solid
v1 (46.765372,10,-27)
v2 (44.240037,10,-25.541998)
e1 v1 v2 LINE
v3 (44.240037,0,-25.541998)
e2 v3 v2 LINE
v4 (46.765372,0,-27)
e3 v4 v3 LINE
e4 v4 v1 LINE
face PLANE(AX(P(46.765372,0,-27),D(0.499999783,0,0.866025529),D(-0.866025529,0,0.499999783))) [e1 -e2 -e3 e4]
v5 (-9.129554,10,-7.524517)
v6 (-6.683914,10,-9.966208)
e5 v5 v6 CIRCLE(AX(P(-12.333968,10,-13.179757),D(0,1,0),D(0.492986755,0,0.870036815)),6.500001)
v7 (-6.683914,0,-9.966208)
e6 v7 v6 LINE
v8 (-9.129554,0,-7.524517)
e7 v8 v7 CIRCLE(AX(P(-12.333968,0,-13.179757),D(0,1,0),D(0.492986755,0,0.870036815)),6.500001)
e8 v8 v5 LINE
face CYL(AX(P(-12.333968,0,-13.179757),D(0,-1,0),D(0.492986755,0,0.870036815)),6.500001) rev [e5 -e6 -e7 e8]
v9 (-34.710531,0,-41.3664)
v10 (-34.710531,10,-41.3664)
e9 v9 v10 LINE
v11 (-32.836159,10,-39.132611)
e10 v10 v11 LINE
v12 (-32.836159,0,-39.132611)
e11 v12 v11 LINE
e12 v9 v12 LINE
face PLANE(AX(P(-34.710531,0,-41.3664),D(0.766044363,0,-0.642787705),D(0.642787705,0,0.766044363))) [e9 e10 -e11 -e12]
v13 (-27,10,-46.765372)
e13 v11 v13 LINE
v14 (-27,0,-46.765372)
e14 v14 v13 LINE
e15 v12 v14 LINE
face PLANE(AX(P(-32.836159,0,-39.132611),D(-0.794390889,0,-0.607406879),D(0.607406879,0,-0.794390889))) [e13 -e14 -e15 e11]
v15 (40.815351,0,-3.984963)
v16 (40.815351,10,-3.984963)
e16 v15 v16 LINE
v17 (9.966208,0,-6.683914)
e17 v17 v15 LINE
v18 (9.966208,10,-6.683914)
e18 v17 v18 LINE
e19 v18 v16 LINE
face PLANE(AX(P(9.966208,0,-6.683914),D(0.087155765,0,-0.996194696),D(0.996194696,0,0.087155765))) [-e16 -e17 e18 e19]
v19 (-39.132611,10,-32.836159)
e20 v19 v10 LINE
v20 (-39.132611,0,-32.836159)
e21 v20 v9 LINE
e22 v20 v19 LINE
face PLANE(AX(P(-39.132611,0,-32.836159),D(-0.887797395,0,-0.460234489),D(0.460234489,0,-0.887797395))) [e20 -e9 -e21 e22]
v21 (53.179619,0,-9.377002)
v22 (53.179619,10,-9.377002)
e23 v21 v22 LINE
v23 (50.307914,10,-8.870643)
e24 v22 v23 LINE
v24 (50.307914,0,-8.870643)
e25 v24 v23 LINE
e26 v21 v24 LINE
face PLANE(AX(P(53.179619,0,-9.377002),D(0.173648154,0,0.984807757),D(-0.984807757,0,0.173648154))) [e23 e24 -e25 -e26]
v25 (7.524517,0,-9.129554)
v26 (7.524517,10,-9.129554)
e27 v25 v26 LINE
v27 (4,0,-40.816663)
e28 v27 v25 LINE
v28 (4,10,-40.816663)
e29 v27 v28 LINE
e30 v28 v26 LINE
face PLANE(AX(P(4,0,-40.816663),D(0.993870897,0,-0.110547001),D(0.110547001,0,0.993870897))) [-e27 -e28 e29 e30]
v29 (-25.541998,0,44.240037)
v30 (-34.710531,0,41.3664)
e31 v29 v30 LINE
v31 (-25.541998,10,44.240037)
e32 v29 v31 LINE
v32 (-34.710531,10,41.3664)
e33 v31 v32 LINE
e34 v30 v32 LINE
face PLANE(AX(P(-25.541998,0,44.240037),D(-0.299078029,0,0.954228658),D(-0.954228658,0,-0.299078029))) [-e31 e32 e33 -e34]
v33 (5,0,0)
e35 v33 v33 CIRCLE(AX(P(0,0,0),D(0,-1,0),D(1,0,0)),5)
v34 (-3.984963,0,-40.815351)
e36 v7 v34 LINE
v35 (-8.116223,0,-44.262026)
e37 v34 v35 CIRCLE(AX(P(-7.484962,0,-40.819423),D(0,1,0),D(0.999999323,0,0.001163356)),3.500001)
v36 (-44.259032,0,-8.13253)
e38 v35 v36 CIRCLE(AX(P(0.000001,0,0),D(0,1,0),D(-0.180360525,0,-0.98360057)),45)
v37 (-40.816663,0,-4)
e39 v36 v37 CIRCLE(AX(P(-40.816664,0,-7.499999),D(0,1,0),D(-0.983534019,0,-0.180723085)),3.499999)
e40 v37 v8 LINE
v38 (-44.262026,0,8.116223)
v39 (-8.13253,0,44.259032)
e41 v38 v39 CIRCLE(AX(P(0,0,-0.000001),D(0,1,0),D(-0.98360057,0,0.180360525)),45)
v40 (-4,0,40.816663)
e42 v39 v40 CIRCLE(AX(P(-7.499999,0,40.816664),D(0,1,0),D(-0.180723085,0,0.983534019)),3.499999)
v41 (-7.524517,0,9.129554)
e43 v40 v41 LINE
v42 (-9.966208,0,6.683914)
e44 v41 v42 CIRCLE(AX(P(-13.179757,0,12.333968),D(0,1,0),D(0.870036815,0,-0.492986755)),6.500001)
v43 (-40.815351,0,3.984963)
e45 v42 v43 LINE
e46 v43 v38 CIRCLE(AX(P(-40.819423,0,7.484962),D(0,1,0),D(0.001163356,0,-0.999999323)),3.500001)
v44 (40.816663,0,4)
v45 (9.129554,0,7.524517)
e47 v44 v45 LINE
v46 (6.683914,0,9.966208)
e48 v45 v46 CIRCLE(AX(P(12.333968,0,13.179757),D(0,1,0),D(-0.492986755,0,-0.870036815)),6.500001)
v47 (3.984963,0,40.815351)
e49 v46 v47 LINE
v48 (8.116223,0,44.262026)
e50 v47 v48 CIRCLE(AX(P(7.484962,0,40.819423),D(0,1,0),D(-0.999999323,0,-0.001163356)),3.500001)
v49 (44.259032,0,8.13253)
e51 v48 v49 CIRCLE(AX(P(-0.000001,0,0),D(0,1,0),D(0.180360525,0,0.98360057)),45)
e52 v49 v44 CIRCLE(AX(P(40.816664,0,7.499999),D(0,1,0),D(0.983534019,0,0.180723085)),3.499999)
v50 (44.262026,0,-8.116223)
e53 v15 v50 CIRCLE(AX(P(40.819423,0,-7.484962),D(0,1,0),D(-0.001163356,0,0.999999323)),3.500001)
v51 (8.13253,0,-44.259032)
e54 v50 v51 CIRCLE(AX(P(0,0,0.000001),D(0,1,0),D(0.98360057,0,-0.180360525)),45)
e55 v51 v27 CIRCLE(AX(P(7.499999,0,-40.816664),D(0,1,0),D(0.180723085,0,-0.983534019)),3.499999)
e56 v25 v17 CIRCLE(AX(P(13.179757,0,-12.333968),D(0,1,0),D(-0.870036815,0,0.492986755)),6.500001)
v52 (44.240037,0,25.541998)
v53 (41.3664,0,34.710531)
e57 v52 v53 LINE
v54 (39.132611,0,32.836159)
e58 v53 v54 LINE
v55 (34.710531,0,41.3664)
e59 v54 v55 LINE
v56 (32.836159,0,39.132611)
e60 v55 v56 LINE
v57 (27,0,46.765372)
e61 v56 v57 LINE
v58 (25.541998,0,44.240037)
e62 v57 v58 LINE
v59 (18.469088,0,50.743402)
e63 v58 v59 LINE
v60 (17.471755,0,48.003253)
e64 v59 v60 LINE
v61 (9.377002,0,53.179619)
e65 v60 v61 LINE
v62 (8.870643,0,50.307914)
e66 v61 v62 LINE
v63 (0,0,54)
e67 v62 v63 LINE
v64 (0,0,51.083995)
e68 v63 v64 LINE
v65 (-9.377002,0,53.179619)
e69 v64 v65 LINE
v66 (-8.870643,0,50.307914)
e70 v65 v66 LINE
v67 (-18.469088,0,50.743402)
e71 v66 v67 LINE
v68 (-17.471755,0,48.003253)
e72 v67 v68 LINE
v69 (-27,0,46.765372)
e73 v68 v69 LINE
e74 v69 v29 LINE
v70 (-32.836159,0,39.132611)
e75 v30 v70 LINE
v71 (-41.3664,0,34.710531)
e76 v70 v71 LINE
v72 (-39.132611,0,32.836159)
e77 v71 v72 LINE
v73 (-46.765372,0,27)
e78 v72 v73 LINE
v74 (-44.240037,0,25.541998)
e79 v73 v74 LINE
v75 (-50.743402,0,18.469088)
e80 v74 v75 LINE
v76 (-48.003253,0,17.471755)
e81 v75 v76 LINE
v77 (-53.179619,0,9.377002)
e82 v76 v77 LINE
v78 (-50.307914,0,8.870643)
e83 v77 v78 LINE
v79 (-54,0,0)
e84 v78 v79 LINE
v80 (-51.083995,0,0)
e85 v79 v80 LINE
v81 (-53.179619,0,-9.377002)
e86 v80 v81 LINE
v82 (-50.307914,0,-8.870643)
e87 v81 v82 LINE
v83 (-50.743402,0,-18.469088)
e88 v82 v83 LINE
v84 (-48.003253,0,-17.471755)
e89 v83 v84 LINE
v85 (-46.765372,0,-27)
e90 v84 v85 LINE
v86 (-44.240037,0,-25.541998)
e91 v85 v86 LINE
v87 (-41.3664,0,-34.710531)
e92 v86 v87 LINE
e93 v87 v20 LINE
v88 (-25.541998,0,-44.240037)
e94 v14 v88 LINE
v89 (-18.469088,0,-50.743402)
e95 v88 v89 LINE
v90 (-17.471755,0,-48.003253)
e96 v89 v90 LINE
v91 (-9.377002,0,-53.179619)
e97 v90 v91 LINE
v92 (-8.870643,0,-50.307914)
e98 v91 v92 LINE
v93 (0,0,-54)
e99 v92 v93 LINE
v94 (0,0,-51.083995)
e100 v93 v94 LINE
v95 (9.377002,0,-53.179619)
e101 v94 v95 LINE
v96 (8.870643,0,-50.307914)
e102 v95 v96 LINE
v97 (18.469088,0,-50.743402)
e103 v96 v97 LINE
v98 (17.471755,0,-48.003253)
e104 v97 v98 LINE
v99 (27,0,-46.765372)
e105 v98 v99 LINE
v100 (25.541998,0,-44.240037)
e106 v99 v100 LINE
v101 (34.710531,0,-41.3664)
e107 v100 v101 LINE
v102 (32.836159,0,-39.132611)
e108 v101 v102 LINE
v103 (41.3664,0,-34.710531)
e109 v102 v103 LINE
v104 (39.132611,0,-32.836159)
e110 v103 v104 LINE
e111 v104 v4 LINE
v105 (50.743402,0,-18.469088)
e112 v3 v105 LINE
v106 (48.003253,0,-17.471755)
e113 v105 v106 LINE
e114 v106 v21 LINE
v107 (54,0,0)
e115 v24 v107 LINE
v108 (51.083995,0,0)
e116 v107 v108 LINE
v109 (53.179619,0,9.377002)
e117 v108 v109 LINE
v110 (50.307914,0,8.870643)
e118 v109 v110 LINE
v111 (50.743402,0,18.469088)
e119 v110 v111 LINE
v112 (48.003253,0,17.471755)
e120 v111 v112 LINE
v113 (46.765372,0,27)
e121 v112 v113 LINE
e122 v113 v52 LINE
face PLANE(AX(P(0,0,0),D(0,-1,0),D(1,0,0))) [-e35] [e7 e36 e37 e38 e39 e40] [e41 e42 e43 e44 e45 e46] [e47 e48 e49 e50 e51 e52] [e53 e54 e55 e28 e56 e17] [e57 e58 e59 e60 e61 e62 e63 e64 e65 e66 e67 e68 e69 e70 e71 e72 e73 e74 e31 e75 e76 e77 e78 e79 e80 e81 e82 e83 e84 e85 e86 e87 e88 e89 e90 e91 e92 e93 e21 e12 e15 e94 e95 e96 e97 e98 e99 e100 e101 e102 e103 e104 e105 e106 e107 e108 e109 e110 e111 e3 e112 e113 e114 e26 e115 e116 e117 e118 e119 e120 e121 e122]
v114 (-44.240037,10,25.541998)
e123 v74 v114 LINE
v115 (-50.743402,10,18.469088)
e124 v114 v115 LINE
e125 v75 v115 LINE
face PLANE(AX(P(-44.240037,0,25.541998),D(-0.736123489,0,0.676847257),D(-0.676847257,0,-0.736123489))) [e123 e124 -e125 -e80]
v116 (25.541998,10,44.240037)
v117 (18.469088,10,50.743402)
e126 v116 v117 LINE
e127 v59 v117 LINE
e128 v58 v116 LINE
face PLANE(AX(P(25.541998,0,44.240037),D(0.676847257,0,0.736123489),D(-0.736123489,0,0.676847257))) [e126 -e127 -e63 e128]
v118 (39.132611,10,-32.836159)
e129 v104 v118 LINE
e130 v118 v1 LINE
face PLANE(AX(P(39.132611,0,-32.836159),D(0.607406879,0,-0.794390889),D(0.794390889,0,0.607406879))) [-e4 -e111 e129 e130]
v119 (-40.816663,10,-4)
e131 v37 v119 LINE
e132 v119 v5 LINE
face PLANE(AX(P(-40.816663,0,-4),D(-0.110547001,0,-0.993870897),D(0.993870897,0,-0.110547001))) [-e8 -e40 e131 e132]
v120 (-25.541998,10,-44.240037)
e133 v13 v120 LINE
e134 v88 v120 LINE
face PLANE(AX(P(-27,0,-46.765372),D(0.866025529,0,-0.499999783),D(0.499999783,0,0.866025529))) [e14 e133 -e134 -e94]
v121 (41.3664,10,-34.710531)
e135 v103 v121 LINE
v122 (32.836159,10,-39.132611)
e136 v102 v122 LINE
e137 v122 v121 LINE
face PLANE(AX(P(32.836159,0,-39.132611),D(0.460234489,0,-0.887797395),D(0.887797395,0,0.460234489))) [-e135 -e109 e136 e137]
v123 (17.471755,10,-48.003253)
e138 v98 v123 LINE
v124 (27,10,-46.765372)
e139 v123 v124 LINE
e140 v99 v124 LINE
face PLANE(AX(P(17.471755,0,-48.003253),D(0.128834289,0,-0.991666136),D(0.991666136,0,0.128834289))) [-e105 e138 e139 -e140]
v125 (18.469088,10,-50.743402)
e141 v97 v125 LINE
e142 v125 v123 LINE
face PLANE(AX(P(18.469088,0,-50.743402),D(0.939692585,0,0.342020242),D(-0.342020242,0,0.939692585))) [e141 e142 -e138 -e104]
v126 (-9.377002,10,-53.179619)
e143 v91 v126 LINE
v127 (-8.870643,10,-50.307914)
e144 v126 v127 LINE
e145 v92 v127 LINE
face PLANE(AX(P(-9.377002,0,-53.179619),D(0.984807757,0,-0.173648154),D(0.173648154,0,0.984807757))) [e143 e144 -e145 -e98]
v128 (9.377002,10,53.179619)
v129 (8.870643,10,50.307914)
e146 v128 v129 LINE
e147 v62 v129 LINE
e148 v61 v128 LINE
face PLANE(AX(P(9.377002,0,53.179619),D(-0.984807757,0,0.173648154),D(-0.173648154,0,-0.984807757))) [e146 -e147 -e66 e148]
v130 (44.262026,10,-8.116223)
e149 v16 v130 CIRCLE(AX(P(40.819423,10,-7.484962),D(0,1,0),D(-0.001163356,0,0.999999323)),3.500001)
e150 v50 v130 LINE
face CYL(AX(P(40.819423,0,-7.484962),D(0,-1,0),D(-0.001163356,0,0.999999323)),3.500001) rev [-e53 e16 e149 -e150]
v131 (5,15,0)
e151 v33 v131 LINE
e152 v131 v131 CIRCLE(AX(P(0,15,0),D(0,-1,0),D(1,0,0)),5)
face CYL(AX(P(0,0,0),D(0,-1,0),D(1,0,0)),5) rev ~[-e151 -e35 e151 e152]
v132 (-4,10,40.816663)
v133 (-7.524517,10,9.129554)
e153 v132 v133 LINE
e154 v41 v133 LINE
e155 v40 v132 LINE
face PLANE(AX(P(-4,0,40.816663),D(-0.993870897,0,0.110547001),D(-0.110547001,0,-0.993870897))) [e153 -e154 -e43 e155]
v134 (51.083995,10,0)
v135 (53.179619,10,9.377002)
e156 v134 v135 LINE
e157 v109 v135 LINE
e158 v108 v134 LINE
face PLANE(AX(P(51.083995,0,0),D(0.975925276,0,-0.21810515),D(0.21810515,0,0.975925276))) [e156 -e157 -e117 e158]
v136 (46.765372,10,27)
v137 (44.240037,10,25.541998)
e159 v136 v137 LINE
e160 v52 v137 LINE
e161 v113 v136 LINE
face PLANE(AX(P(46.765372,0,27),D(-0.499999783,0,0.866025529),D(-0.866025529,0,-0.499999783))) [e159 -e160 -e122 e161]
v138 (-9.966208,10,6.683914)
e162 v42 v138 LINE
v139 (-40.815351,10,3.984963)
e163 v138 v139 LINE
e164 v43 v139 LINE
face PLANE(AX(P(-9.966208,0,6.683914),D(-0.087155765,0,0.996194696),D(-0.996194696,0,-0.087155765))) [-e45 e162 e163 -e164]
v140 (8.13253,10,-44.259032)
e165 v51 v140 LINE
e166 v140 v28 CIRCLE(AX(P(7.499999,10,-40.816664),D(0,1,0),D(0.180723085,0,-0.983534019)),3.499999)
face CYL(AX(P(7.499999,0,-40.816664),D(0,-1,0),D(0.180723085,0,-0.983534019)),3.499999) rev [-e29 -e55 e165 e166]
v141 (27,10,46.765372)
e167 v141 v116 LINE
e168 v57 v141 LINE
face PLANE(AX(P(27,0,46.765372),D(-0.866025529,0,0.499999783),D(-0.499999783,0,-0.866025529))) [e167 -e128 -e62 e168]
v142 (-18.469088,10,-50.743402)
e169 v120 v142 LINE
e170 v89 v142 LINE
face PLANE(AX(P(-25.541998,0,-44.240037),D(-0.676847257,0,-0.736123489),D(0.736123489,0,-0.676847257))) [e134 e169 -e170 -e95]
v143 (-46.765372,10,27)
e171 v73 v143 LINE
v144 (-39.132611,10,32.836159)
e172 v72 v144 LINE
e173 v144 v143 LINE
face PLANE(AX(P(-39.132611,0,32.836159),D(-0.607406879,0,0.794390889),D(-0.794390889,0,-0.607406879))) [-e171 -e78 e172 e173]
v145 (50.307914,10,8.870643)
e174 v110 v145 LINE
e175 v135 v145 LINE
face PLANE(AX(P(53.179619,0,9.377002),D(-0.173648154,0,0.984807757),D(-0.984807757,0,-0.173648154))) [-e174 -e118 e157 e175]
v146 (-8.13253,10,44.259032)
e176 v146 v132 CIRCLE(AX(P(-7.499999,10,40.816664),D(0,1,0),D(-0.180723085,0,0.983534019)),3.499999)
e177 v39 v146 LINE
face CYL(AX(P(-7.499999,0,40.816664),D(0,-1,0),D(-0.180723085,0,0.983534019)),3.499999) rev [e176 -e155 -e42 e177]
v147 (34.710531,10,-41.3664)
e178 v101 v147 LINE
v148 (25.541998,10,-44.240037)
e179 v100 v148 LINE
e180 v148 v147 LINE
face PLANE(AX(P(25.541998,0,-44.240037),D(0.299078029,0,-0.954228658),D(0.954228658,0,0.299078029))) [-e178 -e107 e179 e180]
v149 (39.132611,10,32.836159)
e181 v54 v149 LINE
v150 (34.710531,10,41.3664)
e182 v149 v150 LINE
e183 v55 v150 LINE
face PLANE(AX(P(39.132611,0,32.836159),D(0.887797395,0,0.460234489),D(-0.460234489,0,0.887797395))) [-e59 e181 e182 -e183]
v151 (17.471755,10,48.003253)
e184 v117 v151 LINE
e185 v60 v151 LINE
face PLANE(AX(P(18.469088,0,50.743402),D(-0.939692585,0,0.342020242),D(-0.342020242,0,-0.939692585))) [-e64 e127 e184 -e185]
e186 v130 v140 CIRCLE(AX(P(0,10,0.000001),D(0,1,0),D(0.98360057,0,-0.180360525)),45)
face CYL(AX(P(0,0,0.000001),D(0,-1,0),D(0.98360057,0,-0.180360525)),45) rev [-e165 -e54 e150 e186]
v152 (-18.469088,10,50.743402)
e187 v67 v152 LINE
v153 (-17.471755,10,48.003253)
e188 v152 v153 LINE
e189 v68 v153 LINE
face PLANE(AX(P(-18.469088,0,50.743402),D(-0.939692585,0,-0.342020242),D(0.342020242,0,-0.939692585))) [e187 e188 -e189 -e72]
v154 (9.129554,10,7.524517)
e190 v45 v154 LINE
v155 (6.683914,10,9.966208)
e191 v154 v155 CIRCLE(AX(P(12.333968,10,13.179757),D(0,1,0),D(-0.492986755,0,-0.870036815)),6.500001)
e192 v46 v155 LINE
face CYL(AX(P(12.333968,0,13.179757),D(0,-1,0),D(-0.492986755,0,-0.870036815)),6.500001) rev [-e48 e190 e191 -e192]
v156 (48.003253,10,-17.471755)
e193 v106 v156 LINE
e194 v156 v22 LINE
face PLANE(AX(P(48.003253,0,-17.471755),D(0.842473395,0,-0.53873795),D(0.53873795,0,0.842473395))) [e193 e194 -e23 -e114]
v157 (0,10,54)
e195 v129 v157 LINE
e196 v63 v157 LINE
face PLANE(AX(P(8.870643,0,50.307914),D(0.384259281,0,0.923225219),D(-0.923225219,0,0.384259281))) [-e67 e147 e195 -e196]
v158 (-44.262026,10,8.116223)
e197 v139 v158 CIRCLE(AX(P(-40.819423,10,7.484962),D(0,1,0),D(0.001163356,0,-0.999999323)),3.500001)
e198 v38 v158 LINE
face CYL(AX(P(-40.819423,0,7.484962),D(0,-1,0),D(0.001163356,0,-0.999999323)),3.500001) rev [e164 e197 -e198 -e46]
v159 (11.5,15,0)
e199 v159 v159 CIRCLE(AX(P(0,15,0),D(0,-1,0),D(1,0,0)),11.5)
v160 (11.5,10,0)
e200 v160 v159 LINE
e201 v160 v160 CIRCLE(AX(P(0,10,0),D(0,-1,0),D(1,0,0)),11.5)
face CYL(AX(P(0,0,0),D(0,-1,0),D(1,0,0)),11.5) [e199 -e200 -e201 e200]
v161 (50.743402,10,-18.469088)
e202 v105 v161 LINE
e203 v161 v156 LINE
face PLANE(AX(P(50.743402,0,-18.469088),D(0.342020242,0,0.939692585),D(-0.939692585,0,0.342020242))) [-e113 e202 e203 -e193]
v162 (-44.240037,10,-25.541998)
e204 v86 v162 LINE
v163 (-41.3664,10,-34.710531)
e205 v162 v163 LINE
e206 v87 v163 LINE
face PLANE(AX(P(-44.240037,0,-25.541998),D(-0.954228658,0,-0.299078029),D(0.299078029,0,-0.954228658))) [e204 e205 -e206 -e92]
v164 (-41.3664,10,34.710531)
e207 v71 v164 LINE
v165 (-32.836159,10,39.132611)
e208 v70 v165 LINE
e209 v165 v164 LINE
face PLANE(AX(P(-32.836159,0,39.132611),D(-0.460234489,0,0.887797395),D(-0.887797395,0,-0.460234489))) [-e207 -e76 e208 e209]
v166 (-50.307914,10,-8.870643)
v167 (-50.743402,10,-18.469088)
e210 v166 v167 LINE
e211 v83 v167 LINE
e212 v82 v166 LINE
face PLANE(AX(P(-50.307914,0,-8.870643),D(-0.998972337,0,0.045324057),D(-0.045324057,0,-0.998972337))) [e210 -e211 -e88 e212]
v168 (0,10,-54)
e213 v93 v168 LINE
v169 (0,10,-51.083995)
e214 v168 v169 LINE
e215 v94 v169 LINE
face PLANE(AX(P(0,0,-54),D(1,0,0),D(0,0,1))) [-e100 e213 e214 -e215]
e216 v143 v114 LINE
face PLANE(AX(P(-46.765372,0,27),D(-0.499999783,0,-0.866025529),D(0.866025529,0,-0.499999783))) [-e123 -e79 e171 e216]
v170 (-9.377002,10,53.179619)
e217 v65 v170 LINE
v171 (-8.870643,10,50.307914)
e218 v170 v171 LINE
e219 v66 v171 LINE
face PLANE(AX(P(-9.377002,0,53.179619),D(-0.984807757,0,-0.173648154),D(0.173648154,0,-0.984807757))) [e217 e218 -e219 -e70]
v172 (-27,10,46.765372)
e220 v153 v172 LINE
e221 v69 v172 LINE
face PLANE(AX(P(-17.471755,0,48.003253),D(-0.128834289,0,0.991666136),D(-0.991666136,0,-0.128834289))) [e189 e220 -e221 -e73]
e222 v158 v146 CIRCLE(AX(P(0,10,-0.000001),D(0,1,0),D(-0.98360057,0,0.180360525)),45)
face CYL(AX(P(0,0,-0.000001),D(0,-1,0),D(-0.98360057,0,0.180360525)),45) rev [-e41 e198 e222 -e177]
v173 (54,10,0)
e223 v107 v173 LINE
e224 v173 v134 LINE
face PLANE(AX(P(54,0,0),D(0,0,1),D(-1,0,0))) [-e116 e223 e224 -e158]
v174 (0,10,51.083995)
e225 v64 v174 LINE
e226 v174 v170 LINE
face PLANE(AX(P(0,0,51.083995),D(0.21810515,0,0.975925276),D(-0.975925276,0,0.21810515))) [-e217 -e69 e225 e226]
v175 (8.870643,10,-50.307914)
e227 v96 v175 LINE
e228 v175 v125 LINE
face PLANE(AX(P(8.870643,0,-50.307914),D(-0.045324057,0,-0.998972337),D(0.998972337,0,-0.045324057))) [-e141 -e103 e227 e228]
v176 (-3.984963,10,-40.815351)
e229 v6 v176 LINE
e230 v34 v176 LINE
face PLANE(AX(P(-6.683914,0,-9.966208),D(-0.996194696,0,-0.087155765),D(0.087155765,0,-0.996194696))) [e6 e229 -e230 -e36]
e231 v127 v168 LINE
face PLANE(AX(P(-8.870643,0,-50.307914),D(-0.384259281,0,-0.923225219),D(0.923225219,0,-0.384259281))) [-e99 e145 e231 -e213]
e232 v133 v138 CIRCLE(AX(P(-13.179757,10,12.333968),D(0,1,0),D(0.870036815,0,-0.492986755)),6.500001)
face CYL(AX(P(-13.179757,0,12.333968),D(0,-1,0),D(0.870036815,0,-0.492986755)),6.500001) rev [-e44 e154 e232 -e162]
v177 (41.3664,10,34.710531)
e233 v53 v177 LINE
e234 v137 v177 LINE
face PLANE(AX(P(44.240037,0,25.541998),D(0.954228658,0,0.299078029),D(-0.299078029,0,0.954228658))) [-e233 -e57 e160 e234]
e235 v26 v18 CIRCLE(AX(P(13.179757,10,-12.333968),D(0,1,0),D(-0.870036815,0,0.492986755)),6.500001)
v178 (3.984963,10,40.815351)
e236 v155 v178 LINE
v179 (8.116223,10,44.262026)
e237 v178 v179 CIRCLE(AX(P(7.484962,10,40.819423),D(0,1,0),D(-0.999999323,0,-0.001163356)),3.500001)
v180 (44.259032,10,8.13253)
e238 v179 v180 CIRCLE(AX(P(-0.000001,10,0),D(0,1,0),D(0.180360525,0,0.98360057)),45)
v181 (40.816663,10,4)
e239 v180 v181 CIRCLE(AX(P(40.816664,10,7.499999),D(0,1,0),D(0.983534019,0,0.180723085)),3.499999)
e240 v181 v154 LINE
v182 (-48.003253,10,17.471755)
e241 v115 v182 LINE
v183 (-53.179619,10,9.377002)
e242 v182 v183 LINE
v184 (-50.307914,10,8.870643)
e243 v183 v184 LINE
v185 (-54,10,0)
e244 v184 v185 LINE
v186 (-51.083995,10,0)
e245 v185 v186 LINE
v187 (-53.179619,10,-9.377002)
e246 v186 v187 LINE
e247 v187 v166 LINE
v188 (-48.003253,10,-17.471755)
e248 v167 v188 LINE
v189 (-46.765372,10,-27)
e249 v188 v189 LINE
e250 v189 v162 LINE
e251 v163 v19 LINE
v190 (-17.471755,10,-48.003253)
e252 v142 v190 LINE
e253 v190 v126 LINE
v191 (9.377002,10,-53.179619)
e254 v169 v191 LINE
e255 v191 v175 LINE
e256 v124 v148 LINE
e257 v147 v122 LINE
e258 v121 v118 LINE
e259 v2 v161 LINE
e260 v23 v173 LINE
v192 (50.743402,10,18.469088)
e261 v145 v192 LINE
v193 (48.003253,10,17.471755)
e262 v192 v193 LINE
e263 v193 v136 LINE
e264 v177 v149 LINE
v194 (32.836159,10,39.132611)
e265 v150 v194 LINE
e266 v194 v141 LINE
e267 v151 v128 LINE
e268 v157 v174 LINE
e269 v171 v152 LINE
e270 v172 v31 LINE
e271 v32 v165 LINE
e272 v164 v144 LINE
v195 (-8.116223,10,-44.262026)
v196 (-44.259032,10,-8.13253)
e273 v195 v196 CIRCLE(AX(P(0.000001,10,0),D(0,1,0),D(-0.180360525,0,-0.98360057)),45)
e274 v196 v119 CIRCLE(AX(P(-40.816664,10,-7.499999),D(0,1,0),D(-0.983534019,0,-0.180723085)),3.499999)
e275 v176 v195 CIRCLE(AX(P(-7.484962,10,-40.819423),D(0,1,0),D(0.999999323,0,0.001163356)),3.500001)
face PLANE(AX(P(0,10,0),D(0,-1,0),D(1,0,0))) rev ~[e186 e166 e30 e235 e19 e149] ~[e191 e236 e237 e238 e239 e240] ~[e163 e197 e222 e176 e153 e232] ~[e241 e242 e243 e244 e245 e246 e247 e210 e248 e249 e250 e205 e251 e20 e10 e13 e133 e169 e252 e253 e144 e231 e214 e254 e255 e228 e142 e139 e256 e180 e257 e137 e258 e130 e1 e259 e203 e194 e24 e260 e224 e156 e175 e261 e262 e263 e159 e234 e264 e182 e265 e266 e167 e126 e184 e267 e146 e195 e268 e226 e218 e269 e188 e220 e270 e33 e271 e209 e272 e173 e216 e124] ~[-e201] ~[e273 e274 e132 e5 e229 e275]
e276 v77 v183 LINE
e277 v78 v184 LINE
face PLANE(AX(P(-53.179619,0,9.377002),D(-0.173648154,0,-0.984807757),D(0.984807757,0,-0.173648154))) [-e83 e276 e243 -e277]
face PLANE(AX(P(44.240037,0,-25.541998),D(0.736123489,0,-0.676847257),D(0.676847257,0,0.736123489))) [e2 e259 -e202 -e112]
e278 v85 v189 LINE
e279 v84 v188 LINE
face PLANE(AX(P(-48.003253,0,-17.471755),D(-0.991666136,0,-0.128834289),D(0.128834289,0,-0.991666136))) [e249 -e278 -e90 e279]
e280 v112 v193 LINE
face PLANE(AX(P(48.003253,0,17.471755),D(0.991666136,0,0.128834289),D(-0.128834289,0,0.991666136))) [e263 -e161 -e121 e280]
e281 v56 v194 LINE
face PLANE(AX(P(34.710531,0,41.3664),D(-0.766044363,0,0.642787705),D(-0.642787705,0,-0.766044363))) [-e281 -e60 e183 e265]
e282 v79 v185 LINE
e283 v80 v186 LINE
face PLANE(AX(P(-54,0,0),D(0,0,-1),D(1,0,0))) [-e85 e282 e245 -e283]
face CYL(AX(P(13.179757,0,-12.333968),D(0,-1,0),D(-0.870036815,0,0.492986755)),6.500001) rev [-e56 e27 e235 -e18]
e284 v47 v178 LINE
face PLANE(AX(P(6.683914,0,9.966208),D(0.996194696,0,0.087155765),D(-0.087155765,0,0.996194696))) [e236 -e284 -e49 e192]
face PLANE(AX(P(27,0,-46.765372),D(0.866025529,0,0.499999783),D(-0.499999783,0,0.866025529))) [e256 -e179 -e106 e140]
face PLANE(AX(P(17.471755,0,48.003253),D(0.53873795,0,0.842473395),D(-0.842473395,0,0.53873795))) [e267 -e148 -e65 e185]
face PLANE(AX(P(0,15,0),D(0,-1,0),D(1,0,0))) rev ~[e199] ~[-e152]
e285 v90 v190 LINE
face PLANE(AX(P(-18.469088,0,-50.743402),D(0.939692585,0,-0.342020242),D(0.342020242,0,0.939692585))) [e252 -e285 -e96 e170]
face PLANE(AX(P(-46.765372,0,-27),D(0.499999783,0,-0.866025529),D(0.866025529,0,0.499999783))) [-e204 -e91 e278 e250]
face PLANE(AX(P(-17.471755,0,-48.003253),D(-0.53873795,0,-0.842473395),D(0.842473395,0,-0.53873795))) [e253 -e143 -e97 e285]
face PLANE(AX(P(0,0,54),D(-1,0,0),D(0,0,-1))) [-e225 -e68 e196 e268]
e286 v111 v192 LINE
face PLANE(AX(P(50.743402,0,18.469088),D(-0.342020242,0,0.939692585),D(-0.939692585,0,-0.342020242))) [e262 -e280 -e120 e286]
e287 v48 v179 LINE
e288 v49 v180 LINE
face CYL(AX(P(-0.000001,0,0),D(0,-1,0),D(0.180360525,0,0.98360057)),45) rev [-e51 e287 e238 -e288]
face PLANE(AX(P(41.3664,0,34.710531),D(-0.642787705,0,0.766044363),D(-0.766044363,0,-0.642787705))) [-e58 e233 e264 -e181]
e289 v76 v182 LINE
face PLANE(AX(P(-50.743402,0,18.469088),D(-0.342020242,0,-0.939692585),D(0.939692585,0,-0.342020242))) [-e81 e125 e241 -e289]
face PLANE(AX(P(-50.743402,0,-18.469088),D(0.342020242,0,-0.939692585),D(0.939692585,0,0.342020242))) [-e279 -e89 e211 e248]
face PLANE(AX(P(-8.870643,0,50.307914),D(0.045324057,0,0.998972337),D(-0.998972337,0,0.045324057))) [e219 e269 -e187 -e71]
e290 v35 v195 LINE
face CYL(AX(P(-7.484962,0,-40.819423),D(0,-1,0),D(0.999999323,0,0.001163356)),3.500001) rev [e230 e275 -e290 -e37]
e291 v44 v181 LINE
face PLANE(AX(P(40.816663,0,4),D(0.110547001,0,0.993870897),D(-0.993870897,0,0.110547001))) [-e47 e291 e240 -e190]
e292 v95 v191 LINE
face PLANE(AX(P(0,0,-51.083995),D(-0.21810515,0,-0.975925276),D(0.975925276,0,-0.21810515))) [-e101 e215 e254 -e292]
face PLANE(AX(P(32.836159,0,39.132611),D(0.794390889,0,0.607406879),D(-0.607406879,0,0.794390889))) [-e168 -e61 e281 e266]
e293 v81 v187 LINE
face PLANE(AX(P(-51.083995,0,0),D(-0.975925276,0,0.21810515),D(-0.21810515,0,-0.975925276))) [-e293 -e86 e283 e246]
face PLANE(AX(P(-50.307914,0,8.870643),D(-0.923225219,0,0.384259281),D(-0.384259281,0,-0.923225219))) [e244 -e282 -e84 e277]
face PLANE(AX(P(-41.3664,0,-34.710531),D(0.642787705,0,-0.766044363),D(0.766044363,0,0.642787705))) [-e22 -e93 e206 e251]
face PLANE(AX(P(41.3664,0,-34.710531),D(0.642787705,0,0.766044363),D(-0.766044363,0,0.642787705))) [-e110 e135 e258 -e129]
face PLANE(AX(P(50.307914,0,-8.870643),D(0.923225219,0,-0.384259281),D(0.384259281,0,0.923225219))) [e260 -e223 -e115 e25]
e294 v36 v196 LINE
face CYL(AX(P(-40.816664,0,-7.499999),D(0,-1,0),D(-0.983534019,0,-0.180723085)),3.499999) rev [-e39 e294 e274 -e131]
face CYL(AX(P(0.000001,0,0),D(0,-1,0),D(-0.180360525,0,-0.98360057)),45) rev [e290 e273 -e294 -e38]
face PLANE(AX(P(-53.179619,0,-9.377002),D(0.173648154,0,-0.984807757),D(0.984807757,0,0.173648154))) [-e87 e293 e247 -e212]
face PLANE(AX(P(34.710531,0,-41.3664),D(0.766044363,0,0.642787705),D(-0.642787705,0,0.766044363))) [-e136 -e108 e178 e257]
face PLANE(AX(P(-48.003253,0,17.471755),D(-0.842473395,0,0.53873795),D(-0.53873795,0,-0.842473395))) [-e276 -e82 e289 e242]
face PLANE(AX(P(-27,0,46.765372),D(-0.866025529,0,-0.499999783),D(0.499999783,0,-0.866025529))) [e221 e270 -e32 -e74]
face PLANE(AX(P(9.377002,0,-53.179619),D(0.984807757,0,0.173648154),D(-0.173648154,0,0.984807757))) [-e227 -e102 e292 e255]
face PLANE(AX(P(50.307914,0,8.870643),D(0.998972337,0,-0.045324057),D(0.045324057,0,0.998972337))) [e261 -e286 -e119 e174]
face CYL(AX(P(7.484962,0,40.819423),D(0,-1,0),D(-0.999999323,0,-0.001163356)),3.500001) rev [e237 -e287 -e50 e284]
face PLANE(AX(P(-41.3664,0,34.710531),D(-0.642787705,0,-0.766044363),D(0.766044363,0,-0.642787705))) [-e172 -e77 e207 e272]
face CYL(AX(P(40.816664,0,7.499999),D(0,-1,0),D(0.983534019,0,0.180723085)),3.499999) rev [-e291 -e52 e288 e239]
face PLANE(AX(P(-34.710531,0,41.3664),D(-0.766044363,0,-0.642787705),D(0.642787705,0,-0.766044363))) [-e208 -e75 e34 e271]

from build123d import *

# Parameters (mm, degrees)
F0_R     = 11.5
F1_DEPTH = 10
F0_R_2   = 5
F2_DEPTH = 15


with BuildPart() as f1:
    # F0 (on Front) → F1 (new body)
    with BuildSketch(Plane.XZ):
        Polygon((0, 54), (0, 51.083995), (-9.377002, 53.179619), (-8.870643, 50.307914), (-18.469088, 50.743402), (-17.471755, 48.003253), (-27, 46.765372), (-25.541998, 44.240037), (-34.710531, 41.3664), (-32.836159, 39.132611), (-41.3664, 34.710531), (-39.132611, 32.836159), (-46.765372, 27), (-44.240037, 25.541998), (-50.743402, 18.469088), (-48.003253, 17.471755), (-53.179619, 9.377002), (-50.307914, 8.870643), (-54, 0), (-51.083995, 0), (-53.179619, -9.377002), (-50.307914, -8.870643), (-50.743402, -18.469088), (-48.003253, -17.471755), (-46.765372, -27), (-44.240037, -25.541998), (-41.3664, -34.710531), (-39.132611, -32.836159), (-34.710531, -41.3664), (-32.836159, -39.132611), (-27, -46.765372), (-25.541998, -44.240037), (-18.469088, -50.743402), (-17.471755, -48.003253), (-9.377002, -53.179619), (-8.870643, -50.307914), (0, -54), (0, -51.083995), (9.377002, -53.179619), (8.870643, -50.307914), (18.469088, -50.743402), (17.471755, -48.003253), (27, -46.765372), (25.541998, -44.240037), (34.710531, -41.3664), (32.836159, -39.132611), (41.3664, -34.710531), (39.132611, -32.836159), (46.765372, -27), (44.240037, -25.541998), (50.743402, -18.469088), (48.003253, -17.471755), (53.179619, -9.377002), (50.307914, -8.870643), (54, 0), (51.083995, 0), (53.179619, 9.377002), (50.307914, 8.870643), (50.743402, 18.469088), (48.003253, 17.471755), (46.765372, 27), (44.240037, 25.541998), (41.3664, 34.710531), (39.132611, 32.836159), (34.710531, 41.3664), (32.836159, 39.132611), (27, 46.765372), (25.541998, 44.240037), (18.469088, 50.743402), (17.471755, 48.003253), (9.377002, 53.179619), (8.870643, 50.307914), align=None)
        with BuildLine():
            Line((-6.683914, -9.966208), (-3.984963, -40.815351))
            ThreePointArc((-3.984963, -40.815351), (-5.242796, -43.506931), (-8.116223, -44.262026))
            ThreePointArc((-8.116223, -44.262026), (-31.813943, -31.825666), (-44.259032, -8.13253))
            ThreePointArc((-44.259032, -8.13253), (-43.505888, -5.259895), (-40.816663, -4))
            Line((-40.816663, -4), (-9.129554, -7.524517))
            ThreePointArc((-9.129554, -7.524517), (-7.741489, -8.57985), (-6.683914, -9.966208))
        make_face(mode=Mode.SUBTRACT)
        with BuildLine():
            Line((9.966208, -6.683914), (40.815351, -3.984963))
            ThreePointArc((40.815351, -3.984963), (43.506931, -5.242796), (44.262026, -8.116223))
            ThreePointArc((44.262026, -8.116223), (31.825666, -31.813943), (8.13253, -44.259032))
            ThreePointArc((8.13253, -44.259032), (5.259895, -43.505888), (4, -40.816663))
            Line((4, -40.816663), (7.524517, -9.129554))
            ThreePointArc((7.524517, -9.129554), (8.57985, -7.741489), (9.966208, -6.683914))
        make_face(mode=Mode.SUBTRACT)
        with BuildLine():
            ThreePointArc((-44.262026, 8.116223), (-31.825666, 31.813943), (-8.13253, 44.259032))
            ThreePointArc((-8.13253, 44.259032), (-5.259895, 43.505888), (-4, 40.816663))
            Line((-4, 40.816663), (-7.524517, 9.129554))
            ThreePointArc((-7.524517, 9.129554), (-8.57985, 7.741489), (-9.966208, 6.683914))
            Line((-9.966208, 6.683914), (-40.815351, 3.984963))
            ThreePointArc((-40.815351, 3.984963), (-43.506931, 5.242796), (-44.262026, 8.116223))
        make_face(mode=Mode.SUBTRACT)
        Circle(F0_R, mode=Mode.SUBTRACT)
        with BuildLine():
            Line((6.683914, 9.966208), (3.984963, 40.815351))
            ThreePointArc((3.984963, 40.815351), (5.242796, 43.506931), (8.116223, 44.262026))
            ThreePointArc((8.116223, 44.262026), (31.813943, 31.825666), (44.259032, 8.13253))
            ThreePointArc((44.259032, 8.13253), (43.505888, 5.259895), (40.816663, 4))
            Line((40.816663, 4), (9.129554, 7.524517))
            ThreePointArc((9.129554, 7.524517), (7.741489, 8.57985), (6.683914, 9.966208))
        make_face(mode=Mode.SUBTRACT)
    extrude(amount=-F1_DEPTH)

    # F0 (on Front) → F2 (join)
    with BuildSketch(Plane.XZ):
        Circle(F0_R)
        Circle(F0_R_2, mode=Mode.SUBTRACT)
    extrude(amount=-F2_DEPTH)


solid = f1.part
